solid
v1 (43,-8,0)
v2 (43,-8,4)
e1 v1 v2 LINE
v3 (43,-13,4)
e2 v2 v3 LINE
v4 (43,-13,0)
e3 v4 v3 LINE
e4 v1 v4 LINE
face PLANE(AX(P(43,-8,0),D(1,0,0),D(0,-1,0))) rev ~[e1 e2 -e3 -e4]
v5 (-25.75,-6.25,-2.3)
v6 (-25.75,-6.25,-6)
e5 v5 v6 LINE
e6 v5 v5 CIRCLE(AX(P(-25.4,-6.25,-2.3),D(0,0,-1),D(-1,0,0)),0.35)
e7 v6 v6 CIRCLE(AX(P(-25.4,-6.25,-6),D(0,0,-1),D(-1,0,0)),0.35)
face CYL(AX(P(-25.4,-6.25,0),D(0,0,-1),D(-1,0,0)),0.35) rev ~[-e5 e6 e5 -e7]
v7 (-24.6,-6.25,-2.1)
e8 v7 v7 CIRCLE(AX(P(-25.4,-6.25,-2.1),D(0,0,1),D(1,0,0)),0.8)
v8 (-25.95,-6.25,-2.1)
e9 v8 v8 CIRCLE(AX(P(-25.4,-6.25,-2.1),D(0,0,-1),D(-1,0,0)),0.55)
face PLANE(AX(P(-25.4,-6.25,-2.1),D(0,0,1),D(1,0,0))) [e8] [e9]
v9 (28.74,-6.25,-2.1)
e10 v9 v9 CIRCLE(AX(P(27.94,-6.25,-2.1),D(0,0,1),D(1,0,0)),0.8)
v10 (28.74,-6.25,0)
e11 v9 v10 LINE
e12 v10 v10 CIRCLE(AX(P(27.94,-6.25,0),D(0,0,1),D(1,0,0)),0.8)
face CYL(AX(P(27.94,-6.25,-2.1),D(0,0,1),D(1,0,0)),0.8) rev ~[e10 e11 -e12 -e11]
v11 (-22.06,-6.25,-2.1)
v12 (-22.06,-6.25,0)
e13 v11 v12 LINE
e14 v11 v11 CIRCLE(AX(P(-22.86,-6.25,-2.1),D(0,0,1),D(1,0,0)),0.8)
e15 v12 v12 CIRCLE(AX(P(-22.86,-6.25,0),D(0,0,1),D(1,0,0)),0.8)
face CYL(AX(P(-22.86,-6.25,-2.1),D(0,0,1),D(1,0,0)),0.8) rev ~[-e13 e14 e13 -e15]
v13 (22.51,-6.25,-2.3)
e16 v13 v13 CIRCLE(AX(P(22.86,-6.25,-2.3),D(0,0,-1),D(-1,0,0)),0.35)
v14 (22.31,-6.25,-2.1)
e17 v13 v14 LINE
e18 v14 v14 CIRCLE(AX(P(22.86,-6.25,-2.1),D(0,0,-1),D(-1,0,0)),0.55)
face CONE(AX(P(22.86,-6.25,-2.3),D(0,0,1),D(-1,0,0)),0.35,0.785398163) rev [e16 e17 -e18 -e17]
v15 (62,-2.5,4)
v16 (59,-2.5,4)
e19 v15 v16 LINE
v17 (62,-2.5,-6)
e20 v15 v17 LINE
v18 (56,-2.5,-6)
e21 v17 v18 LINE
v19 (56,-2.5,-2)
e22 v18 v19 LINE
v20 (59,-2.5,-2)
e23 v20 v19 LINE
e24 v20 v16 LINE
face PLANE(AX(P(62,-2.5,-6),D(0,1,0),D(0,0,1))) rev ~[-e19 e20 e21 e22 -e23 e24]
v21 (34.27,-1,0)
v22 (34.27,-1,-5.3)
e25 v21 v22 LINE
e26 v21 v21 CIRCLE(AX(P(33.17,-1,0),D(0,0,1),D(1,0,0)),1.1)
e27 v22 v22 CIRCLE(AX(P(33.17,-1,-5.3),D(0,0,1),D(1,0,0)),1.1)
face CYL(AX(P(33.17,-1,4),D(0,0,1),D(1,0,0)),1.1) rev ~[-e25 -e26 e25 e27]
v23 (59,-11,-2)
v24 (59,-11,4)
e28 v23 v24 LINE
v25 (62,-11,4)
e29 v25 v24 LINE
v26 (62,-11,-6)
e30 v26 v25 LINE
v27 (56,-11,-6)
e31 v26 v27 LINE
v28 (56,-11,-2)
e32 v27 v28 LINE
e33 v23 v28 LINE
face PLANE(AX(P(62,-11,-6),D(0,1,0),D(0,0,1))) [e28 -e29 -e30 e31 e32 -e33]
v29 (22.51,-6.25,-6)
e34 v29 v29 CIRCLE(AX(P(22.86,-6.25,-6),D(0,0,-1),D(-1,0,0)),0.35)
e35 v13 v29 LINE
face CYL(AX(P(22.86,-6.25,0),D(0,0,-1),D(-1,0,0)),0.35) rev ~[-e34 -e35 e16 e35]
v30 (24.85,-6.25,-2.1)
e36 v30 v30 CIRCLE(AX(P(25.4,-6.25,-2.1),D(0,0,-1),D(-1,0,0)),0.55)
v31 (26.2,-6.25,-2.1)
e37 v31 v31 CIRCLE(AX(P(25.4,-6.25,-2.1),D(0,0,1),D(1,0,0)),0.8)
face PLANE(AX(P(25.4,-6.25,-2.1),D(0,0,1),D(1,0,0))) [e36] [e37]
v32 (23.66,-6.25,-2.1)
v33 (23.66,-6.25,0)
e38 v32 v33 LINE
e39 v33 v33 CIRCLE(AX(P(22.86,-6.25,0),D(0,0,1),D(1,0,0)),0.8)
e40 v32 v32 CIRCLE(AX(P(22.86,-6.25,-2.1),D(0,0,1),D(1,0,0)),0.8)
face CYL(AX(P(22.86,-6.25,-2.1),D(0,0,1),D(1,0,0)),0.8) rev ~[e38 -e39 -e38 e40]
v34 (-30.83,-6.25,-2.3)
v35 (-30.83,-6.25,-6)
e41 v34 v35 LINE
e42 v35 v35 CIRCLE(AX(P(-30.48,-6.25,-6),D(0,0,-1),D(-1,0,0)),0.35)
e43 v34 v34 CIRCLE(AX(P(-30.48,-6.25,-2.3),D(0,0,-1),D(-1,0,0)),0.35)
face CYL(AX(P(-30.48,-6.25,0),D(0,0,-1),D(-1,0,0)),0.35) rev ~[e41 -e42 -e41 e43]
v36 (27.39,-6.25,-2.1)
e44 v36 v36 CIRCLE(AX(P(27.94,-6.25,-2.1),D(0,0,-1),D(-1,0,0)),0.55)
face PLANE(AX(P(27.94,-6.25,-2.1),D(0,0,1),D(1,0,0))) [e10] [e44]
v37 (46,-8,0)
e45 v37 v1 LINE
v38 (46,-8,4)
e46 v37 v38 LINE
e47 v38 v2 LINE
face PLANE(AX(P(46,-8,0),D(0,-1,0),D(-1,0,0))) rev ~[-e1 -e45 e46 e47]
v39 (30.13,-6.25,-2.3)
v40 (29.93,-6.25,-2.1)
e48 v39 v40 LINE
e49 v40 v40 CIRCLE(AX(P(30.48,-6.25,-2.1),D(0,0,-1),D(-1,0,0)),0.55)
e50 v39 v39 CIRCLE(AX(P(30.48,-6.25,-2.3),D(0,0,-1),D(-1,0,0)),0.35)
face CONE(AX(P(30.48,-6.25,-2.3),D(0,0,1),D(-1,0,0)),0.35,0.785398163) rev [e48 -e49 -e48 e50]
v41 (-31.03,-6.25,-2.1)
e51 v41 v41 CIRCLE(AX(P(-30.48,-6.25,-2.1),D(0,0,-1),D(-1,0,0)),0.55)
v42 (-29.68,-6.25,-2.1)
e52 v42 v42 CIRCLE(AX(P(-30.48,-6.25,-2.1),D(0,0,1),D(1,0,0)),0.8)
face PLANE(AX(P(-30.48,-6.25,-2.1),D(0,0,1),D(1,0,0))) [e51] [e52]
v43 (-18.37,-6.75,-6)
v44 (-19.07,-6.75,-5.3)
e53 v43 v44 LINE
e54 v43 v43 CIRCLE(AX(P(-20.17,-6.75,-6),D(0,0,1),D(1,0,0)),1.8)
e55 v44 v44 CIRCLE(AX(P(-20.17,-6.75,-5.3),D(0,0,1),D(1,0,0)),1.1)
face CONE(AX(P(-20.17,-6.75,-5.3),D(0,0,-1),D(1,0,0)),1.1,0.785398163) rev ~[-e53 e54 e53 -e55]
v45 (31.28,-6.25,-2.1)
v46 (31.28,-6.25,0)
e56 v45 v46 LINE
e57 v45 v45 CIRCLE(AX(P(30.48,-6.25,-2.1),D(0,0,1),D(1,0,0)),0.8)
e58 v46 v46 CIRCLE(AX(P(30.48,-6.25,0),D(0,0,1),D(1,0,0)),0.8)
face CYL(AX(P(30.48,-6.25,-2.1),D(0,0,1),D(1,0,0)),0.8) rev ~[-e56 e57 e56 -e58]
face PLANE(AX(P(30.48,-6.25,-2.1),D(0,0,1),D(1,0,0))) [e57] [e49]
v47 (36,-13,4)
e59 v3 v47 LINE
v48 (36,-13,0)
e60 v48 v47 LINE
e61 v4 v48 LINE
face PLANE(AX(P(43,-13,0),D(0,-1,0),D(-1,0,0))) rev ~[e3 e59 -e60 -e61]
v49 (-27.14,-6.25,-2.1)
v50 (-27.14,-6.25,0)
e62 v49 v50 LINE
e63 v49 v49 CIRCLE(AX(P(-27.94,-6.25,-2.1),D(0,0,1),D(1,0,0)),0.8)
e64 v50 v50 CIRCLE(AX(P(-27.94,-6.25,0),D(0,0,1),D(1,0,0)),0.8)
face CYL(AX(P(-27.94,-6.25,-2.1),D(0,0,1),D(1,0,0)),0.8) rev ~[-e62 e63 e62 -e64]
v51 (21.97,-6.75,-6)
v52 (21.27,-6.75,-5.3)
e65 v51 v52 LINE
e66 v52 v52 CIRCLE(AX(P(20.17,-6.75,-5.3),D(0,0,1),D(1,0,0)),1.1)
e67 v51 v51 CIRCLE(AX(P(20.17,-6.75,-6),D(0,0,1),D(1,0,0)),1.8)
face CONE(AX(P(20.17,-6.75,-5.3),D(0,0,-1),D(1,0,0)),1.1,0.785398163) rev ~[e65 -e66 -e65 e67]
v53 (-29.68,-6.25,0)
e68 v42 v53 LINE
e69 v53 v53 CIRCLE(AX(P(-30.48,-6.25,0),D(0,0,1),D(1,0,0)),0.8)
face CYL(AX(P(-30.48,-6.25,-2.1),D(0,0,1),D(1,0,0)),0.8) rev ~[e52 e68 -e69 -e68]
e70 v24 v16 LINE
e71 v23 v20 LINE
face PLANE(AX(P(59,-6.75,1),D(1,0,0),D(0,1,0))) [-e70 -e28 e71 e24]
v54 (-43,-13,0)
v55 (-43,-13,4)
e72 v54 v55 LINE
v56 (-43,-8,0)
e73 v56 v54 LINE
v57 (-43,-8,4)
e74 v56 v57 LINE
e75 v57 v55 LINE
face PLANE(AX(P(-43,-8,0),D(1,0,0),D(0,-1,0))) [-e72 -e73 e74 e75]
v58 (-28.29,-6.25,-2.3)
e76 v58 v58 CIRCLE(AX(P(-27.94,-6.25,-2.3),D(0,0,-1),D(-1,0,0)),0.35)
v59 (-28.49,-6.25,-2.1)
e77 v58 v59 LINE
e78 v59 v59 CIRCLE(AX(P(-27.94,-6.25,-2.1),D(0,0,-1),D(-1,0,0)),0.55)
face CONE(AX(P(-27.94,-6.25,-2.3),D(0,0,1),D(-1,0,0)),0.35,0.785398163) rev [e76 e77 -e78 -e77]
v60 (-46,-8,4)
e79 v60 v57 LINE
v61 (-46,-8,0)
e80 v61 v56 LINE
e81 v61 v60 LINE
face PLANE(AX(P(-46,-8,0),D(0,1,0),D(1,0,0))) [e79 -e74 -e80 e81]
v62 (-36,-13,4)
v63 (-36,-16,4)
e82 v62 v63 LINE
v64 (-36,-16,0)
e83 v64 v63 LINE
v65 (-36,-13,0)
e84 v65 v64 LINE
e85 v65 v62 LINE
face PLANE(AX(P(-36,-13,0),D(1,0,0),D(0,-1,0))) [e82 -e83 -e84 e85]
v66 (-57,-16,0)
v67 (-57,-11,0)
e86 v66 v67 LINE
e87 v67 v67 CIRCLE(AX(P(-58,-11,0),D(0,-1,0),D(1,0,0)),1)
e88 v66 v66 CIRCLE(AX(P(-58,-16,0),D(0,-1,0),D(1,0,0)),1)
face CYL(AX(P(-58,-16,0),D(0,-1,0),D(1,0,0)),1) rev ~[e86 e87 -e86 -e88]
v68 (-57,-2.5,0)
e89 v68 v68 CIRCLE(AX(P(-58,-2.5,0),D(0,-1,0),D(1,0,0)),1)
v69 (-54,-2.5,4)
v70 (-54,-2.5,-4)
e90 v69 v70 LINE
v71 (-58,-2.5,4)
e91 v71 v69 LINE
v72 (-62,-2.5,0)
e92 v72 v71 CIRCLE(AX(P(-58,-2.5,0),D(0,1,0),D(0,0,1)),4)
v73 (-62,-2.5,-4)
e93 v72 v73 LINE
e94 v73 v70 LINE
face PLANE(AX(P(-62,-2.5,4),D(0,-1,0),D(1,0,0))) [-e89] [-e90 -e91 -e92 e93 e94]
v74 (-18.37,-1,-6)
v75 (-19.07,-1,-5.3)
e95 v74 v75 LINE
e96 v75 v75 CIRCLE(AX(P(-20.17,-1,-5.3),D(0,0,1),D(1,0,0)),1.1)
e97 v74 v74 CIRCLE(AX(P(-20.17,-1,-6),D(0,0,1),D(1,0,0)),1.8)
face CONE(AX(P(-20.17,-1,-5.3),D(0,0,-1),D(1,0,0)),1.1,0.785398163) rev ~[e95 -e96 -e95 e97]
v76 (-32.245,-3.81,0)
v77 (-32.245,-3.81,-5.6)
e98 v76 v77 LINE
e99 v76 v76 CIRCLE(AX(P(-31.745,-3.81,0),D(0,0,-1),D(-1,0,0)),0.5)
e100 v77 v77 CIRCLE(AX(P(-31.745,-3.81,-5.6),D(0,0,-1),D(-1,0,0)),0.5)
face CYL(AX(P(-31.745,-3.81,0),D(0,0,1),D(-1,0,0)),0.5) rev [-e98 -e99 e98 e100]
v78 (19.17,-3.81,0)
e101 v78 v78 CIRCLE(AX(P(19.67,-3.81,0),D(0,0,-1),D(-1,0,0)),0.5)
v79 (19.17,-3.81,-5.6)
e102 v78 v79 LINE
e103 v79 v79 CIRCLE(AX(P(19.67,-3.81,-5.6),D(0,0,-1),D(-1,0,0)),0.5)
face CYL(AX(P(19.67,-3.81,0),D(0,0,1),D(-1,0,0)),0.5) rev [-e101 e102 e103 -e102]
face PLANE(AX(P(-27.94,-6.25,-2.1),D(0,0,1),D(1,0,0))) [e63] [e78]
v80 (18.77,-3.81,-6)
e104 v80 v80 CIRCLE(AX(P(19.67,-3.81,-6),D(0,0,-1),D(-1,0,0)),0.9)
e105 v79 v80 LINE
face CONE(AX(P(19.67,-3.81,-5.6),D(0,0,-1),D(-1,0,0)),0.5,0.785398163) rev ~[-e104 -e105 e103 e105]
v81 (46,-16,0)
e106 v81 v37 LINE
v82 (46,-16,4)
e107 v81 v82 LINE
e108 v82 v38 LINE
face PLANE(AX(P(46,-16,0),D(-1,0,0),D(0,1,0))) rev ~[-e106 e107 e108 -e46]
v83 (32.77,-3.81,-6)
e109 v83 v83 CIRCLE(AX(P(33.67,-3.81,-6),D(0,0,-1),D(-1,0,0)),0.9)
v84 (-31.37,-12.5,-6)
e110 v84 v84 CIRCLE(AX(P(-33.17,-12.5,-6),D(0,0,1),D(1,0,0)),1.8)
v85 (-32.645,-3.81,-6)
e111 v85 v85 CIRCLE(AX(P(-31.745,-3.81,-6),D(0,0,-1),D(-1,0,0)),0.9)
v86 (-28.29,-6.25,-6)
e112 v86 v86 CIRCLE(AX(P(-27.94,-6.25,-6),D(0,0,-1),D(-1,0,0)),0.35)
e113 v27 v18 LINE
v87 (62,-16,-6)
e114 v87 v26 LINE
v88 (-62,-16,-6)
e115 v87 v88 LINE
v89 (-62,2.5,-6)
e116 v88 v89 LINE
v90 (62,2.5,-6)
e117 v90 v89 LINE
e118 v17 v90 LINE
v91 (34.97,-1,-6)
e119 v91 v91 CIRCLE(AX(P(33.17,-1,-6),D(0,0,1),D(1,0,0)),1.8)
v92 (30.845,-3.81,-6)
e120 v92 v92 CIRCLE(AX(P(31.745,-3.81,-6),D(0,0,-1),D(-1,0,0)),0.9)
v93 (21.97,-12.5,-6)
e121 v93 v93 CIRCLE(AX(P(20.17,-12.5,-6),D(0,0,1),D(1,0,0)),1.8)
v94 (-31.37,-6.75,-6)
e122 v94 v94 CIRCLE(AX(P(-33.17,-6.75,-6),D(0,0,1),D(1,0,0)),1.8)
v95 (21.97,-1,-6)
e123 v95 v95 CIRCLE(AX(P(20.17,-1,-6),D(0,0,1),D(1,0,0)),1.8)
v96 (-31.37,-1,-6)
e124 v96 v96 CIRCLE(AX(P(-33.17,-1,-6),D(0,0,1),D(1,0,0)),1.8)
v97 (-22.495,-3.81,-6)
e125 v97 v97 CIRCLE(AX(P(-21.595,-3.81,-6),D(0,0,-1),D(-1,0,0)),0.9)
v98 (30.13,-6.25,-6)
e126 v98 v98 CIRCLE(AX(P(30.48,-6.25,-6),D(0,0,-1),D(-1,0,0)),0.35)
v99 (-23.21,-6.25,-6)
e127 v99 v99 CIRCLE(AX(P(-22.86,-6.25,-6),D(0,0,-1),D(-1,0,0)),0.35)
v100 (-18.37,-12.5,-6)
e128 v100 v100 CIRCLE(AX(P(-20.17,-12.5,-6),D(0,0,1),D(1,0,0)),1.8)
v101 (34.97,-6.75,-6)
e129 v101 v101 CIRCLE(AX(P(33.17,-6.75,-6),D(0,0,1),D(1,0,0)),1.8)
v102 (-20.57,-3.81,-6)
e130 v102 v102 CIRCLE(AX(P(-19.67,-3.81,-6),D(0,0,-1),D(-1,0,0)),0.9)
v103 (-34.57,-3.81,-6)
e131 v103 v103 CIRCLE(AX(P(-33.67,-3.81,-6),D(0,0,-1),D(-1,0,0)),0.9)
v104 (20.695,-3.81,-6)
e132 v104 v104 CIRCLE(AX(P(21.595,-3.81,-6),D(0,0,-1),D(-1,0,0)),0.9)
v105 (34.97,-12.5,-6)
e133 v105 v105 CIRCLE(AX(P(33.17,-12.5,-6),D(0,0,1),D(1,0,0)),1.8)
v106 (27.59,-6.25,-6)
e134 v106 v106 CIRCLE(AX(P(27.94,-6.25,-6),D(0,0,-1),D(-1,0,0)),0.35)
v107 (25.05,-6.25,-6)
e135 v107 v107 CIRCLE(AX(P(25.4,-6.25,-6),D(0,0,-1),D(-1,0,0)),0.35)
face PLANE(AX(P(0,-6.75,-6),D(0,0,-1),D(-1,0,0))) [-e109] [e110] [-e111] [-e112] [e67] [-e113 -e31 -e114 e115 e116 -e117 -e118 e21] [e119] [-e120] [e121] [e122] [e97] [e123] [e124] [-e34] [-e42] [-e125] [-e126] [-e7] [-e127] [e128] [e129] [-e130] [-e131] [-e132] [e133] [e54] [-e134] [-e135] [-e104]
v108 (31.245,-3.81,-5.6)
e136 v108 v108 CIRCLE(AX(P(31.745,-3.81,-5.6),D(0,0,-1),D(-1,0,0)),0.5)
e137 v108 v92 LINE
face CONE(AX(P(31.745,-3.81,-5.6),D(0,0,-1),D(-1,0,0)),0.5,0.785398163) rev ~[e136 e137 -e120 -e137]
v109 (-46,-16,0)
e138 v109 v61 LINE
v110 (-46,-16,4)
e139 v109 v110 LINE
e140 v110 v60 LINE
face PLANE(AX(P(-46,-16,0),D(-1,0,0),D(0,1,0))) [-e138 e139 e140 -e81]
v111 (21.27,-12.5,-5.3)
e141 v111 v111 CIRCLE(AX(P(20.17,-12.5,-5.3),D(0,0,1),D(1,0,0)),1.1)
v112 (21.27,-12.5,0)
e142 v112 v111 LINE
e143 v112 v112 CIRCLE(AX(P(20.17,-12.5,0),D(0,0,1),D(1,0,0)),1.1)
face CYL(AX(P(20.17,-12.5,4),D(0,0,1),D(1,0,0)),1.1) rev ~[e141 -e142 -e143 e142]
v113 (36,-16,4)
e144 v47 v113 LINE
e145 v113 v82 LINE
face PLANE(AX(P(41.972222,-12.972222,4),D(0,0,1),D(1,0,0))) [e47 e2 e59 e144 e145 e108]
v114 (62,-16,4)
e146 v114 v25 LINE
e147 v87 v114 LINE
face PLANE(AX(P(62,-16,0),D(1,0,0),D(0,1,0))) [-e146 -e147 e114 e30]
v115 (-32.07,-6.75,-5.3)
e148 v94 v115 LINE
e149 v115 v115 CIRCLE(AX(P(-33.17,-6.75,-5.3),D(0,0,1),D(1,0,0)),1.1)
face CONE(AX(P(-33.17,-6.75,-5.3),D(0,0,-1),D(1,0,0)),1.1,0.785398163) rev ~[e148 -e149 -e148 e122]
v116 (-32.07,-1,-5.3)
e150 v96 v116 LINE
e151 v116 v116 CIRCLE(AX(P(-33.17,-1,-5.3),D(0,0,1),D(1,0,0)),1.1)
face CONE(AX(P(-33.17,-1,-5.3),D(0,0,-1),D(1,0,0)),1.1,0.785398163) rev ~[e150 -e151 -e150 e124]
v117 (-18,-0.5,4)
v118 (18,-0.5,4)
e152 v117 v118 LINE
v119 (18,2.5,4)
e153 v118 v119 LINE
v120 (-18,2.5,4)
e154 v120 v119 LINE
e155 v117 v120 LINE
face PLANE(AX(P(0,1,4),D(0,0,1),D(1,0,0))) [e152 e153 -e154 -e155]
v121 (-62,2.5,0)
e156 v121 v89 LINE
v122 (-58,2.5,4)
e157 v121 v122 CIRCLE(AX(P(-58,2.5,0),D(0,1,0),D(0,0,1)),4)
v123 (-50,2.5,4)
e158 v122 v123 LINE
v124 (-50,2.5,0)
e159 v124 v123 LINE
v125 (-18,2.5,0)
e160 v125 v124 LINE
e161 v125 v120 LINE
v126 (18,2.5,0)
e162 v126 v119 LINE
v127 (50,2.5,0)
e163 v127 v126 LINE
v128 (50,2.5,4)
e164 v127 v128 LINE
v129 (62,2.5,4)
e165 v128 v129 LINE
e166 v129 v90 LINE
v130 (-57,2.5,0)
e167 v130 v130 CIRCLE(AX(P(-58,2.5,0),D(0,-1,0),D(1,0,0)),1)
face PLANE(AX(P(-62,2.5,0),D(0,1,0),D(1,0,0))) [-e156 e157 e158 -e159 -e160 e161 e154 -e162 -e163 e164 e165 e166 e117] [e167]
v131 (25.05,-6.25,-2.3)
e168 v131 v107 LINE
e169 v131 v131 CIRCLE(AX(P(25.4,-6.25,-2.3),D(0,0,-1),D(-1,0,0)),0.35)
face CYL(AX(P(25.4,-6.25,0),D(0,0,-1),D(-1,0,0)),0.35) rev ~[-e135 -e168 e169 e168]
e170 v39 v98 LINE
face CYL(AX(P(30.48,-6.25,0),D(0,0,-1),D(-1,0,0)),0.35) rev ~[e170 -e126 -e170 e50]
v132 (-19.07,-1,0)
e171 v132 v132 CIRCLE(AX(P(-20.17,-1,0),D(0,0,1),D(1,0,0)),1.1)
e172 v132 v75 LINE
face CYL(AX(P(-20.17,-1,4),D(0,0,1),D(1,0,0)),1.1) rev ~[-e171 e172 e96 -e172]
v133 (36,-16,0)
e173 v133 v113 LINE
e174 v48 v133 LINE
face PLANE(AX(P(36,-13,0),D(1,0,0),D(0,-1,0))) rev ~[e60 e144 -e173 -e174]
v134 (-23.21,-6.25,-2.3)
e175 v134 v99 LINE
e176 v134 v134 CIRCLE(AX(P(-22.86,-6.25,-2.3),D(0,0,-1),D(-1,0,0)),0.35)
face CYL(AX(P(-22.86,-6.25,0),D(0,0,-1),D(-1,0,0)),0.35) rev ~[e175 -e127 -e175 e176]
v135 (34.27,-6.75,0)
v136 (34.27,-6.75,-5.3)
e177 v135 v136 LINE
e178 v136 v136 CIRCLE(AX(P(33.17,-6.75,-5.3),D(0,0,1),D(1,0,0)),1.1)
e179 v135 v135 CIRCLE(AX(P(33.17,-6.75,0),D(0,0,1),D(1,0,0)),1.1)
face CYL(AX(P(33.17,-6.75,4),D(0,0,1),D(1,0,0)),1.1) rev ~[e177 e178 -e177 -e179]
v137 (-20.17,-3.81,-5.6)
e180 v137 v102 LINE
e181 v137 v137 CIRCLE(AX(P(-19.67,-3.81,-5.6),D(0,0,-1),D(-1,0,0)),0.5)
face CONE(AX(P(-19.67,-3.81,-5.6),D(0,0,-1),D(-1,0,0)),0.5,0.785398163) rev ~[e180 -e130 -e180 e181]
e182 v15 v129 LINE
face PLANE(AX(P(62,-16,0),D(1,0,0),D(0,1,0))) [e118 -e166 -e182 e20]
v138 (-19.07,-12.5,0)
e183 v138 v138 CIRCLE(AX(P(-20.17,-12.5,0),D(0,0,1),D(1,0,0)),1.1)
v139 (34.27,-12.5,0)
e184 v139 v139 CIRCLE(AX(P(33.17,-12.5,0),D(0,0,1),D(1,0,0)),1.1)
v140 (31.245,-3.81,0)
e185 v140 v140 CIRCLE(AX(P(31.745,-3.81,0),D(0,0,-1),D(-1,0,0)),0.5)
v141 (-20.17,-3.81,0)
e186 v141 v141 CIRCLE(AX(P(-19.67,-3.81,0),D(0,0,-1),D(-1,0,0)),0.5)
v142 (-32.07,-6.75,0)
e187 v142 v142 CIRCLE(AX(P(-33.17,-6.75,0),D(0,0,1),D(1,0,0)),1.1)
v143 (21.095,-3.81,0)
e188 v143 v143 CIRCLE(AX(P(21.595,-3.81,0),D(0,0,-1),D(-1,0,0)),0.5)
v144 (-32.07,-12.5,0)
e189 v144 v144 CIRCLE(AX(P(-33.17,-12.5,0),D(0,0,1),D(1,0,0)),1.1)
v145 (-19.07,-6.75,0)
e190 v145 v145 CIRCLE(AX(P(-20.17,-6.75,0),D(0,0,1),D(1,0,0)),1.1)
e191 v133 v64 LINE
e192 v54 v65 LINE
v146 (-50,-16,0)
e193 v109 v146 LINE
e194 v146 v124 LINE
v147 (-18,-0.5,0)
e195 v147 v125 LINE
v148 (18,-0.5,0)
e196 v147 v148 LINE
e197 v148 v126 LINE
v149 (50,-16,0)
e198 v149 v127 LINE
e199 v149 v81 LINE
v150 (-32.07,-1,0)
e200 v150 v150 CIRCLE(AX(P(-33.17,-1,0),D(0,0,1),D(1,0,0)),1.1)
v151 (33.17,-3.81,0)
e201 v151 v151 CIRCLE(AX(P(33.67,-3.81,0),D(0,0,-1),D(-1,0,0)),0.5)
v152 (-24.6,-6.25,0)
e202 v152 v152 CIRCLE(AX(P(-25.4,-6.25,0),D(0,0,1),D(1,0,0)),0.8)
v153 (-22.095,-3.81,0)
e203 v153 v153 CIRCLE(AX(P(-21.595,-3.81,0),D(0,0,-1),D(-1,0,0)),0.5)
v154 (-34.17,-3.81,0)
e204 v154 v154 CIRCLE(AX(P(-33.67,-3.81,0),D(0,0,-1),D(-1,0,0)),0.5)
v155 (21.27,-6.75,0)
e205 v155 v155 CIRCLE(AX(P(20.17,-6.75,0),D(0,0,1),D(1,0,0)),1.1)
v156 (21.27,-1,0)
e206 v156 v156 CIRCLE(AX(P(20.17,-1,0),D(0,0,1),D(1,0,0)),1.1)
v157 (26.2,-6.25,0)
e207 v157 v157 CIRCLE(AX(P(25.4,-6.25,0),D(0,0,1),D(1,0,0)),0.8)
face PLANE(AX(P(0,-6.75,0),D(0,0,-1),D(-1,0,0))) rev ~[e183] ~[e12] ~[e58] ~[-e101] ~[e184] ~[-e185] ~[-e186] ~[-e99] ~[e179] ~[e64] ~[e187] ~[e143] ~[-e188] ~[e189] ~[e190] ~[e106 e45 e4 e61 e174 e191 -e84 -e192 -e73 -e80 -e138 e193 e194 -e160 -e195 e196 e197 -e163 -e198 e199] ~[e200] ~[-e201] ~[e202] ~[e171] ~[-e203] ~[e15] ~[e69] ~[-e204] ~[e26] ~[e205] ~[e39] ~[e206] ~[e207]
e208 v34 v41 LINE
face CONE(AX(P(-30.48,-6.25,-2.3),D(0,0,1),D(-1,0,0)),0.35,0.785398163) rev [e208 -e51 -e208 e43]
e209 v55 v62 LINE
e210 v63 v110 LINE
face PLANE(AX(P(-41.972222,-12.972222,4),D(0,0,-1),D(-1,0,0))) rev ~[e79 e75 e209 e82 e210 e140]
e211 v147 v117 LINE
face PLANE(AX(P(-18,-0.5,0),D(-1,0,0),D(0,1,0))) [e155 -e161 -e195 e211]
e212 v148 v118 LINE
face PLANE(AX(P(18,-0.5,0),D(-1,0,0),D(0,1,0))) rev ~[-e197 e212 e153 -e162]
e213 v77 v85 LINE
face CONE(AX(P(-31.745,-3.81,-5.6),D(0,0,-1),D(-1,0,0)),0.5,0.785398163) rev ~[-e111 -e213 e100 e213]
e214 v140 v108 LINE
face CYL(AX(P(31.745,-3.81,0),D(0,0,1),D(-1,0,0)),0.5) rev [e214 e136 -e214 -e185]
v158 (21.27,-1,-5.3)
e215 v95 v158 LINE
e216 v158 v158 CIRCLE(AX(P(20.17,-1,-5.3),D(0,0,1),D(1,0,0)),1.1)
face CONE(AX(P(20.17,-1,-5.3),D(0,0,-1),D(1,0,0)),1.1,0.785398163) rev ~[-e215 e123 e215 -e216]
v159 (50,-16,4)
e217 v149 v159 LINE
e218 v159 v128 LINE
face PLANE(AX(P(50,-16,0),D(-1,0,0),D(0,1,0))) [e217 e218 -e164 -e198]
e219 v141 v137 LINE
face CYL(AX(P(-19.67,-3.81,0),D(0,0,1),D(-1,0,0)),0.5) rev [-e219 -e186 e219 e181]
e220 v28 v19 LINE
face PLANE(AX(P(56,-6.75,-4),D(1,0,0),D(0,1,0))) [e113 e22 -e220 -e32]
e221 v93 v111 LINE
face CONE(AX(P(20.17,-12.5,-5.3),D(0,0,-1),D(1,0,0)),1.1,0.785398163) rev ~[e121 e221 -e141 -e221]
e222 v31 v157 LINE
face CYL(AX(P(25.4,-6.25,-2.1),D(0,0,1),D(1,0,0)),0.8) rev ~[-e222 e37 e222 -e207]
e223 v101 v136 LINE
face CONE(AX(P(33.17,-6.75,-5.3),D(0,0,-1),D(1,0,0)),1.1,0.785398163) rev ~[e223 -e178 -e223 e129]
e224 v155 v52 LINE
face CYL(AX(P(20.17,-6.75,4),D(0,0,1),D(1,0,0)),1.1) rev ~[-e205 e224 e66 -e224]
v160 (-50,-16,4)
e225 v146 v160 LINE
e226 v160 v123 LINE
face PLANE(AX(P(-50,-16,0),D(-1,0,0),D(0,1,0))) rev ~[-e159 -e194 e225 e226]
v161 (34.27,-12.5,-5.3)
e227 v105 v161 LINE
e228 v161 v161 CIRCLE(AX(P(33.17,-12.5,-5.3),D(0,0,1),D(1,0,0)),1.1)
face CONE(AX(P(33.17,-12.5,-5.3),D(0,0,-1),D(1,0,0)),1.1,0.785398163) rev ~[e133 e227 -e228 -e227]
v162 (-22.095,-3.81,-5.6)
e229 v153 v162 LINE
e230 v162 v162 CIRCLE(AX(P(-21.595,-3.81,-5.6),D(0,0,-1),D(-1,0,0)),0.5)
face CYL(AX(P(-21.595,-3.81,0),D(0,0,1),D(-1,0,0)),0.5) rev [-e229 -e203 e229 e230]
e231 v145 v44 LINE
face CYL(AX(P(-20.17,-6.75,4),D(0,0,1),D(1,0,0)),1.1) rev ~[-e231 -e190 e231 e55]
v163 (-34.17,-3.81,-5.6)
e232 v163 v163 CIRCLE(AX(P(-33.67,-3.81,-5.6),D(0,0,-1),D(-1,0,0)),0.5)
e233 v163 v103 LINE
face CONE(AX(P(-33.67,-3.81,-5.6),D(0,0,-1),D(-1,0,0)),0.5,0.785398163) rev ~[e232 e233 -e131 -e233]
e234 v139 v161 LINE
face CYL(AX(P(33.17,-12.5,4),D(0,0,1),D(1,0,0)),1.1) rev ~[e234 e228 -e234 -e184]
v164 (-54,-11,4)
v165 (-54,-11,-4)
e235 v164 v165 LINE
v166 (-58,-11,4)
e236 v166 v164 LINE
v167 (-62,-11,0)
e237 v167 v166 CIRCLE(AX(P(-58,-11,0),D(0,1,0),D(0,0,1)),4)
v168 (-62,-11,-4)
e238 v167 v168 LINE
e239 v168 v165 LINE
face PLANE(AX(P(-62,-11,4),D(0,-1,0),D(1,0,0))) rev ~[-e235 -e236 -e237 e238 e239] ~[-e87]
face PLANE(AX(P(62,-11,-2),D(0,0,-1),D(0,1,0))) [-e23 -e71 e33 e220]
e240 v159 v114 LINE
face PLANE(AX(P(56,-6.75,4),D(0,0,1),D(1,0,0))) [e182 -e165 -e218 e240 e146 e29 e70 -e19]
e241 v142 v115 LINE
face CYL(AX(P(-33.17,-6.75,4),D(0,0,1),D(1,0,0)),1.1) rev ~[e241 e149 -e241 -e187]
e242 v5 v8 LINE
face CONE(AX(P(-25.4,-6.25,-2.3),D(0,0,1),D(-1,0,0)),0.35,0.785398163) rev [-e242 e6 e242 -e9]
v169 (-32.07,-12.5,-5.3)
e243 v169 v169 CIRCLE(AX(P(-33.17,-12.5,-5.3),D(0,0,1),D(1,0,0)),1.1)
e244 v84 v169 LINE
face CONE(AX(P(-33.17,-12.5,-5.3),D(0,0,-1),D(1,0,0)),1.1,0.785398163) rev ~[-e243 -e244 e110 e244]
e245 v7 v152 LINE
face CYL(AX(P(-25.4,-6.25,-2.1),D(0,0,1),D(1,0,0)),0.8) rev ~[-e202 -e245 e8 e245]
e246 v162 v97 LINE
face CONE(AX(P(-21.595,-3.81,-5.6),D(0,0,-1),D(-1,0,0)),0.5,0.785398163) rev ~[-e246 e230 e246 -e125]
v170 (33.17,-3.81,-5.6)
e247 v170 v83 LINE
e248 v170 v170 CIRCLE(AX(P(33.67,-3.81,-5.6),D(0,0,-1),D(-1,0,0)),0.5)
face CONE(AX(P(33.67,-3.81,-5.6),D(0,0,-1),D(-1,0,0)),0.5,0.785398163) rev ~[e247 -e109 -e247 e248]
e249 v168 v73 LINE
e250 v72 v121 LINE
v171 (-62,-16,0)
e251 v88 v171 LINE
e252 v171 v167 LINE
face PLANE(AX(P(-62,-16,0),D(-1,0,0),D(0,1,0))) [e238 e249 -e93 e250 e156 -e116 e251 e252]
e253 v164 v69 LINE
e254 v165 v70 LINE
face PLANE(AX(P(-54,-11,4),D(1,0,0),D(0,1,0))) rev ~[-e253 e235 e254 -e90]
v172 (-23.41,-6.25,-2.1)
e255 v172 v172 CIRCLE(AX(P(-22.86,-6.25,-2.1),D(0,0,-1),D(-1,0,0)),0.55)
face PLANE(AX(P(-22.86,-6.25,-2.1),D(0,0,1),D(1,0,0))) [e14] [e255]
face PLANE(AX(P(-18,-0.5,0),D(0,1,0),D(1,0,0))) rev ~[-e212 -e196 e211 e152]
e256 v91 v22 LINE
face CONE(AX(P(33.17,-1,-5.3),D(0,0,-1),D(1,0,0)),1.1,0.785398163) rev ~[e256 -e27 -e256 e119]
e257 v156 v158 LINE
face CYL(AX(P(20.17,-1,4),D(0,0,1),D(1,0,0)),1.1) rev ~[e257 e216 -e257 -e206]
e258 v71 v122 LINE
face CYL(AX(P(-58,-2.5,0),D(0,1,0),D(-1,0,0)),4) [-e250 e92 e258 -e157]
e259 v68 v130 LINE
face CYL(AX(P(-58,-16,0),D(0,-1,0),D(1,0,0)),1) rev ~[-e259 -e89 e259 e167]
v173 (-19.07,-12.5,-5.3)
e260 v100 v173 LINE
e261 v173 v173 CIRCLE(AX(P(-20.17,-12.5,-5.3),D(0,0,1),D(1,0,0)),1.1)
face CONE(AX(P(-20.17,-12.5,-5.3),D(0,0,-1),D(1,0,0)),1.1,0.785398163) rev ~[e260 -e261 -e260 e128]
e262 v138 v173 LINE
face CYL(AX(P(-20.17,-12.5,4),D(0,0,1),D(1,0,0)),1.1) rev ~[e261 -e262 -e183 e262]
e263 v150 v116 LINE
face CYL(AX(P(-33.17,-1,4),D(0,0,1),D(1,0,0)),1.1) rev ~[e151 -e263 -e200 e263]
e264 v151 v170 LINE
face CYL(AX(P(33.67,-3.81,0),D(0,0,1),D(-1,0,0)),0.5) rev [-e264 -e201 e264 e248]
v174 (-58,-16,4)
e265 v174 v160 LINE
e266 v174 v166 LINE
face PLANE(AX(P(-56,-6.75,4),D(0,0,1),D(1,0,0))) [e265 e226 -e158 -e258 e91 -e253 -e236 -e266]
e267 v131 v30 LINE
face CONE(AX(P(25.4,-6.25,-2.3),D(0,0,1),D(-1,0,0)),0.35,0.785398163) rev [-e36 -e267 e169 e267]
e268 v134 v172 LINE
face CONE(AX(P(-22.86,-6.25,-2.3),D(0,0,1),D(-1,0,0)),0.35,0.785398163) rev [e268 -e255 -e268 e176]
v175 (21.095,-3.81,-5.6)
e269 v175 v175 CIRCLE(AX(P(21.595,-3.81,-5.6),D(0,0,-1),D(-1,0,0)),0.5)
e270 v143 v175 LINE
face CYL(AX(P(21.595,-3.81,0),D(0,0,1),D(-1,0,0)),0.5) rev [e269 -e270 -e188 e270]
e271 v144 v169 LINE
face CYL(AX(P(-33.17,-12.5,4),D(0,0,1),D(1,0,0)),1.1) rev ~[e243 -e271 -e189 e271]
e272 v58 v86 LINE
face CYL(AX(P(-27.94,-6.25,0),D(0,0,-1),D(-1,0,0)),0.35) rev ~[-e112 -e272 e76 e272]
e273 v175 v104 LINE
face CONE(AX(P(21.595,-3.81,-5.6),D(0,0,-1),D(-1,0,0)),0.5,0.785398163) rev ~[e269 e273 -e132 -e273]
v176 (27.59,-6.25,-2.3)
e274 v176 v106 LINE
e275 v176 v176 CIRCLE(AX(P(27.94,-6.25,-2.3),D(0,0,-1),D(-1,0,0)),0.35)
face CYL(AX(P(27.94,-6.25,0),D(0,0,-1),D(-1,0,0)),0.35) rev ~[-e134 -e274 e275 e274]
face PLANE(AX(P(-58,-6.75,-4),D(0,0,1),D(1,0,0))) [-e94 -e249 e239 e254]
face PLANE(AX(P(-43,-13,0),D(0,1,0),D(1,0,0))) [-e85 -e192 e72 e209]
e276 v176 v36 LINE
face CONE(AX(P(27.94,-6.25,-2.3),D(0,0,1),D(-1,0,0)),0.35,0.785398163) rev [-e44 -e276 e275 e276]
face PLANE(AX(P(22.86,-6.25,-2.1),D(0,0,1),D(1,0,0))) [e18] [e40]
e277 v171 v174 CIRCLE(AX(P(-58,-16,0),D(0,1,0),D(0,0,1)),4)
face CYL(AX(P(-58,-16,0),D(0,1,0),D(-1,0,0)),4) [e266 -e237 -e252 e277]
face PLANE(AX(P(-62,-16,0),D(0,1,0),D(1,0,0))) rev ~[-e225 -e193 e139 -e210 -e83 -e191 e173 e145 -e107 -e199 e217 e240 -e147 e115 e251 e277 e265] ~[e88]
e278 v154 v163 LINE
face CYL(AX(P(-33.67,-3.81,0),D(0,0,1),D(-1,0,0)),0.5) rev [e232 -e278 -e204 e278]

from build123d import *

# Parameters (mm, degrees)
SKETCH_W         = 124
SKETCH_H         = 18.5
SKETCH_R         = 0.5
PAD_DEPTH        = 6
HOLE_D           = 0.7
HOLE_DEPTH       = 25
HOLE_CBORE_D     = 1.6
HOLE_CBORE_DEPTH = 2.1
CHAMFER_SIZE     = 0.2
SKETCH002_W      = 12
SKETCH002_H      = 18.5
SKETCH002_W_2    = 36
SKETCH002_H_2    = 3
PAD001_DEPTH     = 4
CHAMFER001_SIZE  = 0.4
SKETCH003_R      = 1.1
POCKET_DEPTH     = 10.001
CHAMFER002_SIZE  = 0.7
SKETCH004_W      = 8
SKETCH004_H      = 8.5
POCKET001_DEPTH  = 8
SKETCH005_W      = 8.5
SKETCH005_H      = 4
POCKET002_DEPTH  = 6
SKETCH008_R      = 1
HOLE001_DEPTH    = 18.501
FILLET_R         = 4
SKETCH011_W      = 8.5
SKETCH011_H      = 6
POCKET003_DEPTH  = 3


with BuildPart() as part:
    # Sketch → Pad (new body)
    with BuildSketch(Plane(origin=(0, 0, 0), x_dir=(-1, 0, 0), z_dir=(0, 0, -1))):
        with Locations((0, -6.75)):
            Rectangle(SKETCH_W, SKETCH_H)
        with Locations((-33.67, -3.81)):
            Circle(SKETCH_R, mode=Mode.SUBTRACT)
        with Locations((-31.745, -3.81)):
            Circle(SKETCH_R, mode=Mode.SUBTRACT)
        with Locations((-21.595, -3.81)):
            Circle(SKETCH_R, mode=Mode.SUBTRACT)
        with Locations((-19.67, -3.81)):
            Circle(SKETCH_R, mode=Mode.SUBTRACT)
        with Locations((19.67, -3.81)):
            Circle(SKETCH_R, mode=Mode.SUBTRACT)
        with Locations((21.595, -3.81)):
            Circle(SKETCH_R, mode=Mode.SUBTRACT)
        with Locations((31.745, -3.81)):
            Circle(SKETCH_R, mode=Mode.SUBTRACT)
        with Locations((33.67, -3.81)):
            Circle(SKETCH_R, mode=Mode.SUBTRACT)
    extrude(amount=PAD_DEPTH)

    # Hole
    with Locations(Plane.XY):
        with Locations((-30.48, -6.25), (-27.94, -6.25), (-25.4, -6.25), (-22.86, -6.25), (22.86, -6.25), (25.4, -6.25), (27.94, -6.25), (30.48, -6.25)):
            CounterBoreHole(HOLE_D / 2, HOLE_CBORE_D / 2, HOLE_CBORE_DEPTH, depth=HOLE_DEPTH)

    # Chamfer
    chamfer_edges = [part.edges().sort_by_distance(p)[0] for p in [
        (30.13, -6.25, -2.1),
        (27.59, -6.25, -2.1),
        (25.05, -6.25, -2.1),
        (22.51, -6.25, -2.1),
        (-30.83, -6.25, -2.1),
        (-28.29, -6.25, -2.1),
        (-25.75, -6.25, -2.1),
        (-23.21, -6.25, -2.1),
    ]]
    chamfer(chamfer_edges, length=CHAMFER_SIZE)

    # Sketch002 (on Face25 of Chamfer) → Pad001 (join)
    with BuildSketch(Plane.XY):
        with Locations((-56, -6.75)):
            Rectangle(SKETCH002_W, SKETCH002_H)
        with Locations((56, -6.75)):
            Rectangle(SKETCH002_W, SKETCH002_H)
        with Locations((0, 1)):
            Rectangle(SKETCH002_W_2, SKETCH002_H_2)
        Polygon((-46, -16), (-46, -8), (-43, -8), (-43, -13), (-36, -13), (-36, -16), align=None)
        Polygon((46, -16), (46, -8), (43, -8), (43, -13), (36, -13), (36, -16), align=None)
    extrude(amount=PAD001_DEPTH)

    # Chamfer001
    chamfer001_edges = [part.edges().sort_by_distance(p)[0] for p in [
        (34.17, -3.81, -6),
        (32.245, -3.81, -6),
        (22.095, -3.81, -6),
        (20.17, -3.81, -6),
        (-19.17, -3.81, -6),
        (-21.095, -3.81, -6),
        (-31.245, -3.81, -6),
        (-33.17, -3.81, -6),
    ]]
    chamfer(chamfer001_edges, length=CHAMFER001_SIZE)

    # Sketch003 (on Face23 of Chamfer001) → Pocket (cut, through all)
    with BuildSketch(Plane.XY.offset(4)):
        with Locations((-33.17, -1)):
            Circle(SKETCH003_R)
        with Locations((-20.17, -1)):
            Circle(SKETCH003_R)
        with Locations((-33.17, -6.75)):
            Circle(SKETCH003_R)
        with Locations((-20.17, -6.75)):
            Circle(SKETCH003_R)
        with Locations((-20.17, -12.5)):
            Circle(SKETCH003_R)
        with Locations((-33.17, -12.5)):
            Circle(SKETCH003_R)
        with Locations((20.17, -1)):
            Circle(SKETCH003_R)
        with Locations((33.17, -1)):
            Circle(SKETCH003_R)
        with Locations((20.17, -6.75)):
            Circle(SKETCH003_R)
        with Locations((33.17, -6.75)):
            Circle(SKETCH003_R)
        with Locations((33.17, -12.5)):
            Circle(SKETCH003_R)
        with Locations((20.17, -12.5)):
            Circle(SKETCH003_R)
    extrude(amount=-POCKET_DEPTH, mode=Mode.SUBTRACT)

    # Chamfer002
    chamfer002_edges = [part.edges().sort_by_distance(p)[0] for p in [
        (19.07, -6.75, -6),
        (19.07, -1, -6),
        (19.07, -12.5, -6),
        (32.07, -12.5, -6),
        (32.07, -6.75, -6),
        (32.07, -1, -6),
        (-34.27, -1, -6),
        (-34.27, -6.75, -6),
        (-34.27, -12.5, -6),
        (-21.27, -12.5, -6),
        (-21.27, -6.75, -6),
        (-21.27, -1, -6),
    ]]
    chamfer(chamfer002_edges, length=CHAMFER002_SIZE)

    # Sketch004 (on Face35 of Chamfer002) → Pocket001 (cut)
    with BuildSketch(Plane.XY.offset(4)):
        with Locations((-58, -6.75)):
            Rectangle(SKETCH004_W, SKETCH004_H)
    extrude(amount=-POCKET001_DEPTH, mode=Mode.SUBTRACT)

    # Sketch005 (on Face5 of Pocket001) → Pocket002 (cut)
    with BuildSketch(Plane.YZ.offset(62)):
        with Locations((-6.75, -4)):
            Rectangle(SKETCH005_W, SKETCH005_H)
    extrude(amount=-POCKET002_DEPTH, mode=Mode.SUBTRACT)

    # Sketch008 (on Face3 of Pocket002) → Hole001 (cut, through all)
    with BuildSketch(Plane.XZ.offset(16)):
        with Locations((-58, 0)):
            Circle(SKETCH008_R)
    extrude(amount=-HOLE001_DEPTH, mode=Mode.SUBTRACT)

    # Fillet
    fillet_edges = [part.edges().sort_by_distance(p)[0] for p in [
        (-62, 0, 4),
        (-62, -13.5, 4),
    ]]
    fillet(fillet_edges, radius=FILLET_R)

    # Sketch011 (on Face4 of Pocket002) → Pocket003 (cut)
    with BuildSketch(Plane.YZ.offset(62)):
        with Locations((-6.75, 1)):
            Rectangle(SKETCH011_W, SKETCH011_H)
    extrude(amount=-POCKET003_DEPTH, mode=Mode.SUBTRACT)


solid = part.part
